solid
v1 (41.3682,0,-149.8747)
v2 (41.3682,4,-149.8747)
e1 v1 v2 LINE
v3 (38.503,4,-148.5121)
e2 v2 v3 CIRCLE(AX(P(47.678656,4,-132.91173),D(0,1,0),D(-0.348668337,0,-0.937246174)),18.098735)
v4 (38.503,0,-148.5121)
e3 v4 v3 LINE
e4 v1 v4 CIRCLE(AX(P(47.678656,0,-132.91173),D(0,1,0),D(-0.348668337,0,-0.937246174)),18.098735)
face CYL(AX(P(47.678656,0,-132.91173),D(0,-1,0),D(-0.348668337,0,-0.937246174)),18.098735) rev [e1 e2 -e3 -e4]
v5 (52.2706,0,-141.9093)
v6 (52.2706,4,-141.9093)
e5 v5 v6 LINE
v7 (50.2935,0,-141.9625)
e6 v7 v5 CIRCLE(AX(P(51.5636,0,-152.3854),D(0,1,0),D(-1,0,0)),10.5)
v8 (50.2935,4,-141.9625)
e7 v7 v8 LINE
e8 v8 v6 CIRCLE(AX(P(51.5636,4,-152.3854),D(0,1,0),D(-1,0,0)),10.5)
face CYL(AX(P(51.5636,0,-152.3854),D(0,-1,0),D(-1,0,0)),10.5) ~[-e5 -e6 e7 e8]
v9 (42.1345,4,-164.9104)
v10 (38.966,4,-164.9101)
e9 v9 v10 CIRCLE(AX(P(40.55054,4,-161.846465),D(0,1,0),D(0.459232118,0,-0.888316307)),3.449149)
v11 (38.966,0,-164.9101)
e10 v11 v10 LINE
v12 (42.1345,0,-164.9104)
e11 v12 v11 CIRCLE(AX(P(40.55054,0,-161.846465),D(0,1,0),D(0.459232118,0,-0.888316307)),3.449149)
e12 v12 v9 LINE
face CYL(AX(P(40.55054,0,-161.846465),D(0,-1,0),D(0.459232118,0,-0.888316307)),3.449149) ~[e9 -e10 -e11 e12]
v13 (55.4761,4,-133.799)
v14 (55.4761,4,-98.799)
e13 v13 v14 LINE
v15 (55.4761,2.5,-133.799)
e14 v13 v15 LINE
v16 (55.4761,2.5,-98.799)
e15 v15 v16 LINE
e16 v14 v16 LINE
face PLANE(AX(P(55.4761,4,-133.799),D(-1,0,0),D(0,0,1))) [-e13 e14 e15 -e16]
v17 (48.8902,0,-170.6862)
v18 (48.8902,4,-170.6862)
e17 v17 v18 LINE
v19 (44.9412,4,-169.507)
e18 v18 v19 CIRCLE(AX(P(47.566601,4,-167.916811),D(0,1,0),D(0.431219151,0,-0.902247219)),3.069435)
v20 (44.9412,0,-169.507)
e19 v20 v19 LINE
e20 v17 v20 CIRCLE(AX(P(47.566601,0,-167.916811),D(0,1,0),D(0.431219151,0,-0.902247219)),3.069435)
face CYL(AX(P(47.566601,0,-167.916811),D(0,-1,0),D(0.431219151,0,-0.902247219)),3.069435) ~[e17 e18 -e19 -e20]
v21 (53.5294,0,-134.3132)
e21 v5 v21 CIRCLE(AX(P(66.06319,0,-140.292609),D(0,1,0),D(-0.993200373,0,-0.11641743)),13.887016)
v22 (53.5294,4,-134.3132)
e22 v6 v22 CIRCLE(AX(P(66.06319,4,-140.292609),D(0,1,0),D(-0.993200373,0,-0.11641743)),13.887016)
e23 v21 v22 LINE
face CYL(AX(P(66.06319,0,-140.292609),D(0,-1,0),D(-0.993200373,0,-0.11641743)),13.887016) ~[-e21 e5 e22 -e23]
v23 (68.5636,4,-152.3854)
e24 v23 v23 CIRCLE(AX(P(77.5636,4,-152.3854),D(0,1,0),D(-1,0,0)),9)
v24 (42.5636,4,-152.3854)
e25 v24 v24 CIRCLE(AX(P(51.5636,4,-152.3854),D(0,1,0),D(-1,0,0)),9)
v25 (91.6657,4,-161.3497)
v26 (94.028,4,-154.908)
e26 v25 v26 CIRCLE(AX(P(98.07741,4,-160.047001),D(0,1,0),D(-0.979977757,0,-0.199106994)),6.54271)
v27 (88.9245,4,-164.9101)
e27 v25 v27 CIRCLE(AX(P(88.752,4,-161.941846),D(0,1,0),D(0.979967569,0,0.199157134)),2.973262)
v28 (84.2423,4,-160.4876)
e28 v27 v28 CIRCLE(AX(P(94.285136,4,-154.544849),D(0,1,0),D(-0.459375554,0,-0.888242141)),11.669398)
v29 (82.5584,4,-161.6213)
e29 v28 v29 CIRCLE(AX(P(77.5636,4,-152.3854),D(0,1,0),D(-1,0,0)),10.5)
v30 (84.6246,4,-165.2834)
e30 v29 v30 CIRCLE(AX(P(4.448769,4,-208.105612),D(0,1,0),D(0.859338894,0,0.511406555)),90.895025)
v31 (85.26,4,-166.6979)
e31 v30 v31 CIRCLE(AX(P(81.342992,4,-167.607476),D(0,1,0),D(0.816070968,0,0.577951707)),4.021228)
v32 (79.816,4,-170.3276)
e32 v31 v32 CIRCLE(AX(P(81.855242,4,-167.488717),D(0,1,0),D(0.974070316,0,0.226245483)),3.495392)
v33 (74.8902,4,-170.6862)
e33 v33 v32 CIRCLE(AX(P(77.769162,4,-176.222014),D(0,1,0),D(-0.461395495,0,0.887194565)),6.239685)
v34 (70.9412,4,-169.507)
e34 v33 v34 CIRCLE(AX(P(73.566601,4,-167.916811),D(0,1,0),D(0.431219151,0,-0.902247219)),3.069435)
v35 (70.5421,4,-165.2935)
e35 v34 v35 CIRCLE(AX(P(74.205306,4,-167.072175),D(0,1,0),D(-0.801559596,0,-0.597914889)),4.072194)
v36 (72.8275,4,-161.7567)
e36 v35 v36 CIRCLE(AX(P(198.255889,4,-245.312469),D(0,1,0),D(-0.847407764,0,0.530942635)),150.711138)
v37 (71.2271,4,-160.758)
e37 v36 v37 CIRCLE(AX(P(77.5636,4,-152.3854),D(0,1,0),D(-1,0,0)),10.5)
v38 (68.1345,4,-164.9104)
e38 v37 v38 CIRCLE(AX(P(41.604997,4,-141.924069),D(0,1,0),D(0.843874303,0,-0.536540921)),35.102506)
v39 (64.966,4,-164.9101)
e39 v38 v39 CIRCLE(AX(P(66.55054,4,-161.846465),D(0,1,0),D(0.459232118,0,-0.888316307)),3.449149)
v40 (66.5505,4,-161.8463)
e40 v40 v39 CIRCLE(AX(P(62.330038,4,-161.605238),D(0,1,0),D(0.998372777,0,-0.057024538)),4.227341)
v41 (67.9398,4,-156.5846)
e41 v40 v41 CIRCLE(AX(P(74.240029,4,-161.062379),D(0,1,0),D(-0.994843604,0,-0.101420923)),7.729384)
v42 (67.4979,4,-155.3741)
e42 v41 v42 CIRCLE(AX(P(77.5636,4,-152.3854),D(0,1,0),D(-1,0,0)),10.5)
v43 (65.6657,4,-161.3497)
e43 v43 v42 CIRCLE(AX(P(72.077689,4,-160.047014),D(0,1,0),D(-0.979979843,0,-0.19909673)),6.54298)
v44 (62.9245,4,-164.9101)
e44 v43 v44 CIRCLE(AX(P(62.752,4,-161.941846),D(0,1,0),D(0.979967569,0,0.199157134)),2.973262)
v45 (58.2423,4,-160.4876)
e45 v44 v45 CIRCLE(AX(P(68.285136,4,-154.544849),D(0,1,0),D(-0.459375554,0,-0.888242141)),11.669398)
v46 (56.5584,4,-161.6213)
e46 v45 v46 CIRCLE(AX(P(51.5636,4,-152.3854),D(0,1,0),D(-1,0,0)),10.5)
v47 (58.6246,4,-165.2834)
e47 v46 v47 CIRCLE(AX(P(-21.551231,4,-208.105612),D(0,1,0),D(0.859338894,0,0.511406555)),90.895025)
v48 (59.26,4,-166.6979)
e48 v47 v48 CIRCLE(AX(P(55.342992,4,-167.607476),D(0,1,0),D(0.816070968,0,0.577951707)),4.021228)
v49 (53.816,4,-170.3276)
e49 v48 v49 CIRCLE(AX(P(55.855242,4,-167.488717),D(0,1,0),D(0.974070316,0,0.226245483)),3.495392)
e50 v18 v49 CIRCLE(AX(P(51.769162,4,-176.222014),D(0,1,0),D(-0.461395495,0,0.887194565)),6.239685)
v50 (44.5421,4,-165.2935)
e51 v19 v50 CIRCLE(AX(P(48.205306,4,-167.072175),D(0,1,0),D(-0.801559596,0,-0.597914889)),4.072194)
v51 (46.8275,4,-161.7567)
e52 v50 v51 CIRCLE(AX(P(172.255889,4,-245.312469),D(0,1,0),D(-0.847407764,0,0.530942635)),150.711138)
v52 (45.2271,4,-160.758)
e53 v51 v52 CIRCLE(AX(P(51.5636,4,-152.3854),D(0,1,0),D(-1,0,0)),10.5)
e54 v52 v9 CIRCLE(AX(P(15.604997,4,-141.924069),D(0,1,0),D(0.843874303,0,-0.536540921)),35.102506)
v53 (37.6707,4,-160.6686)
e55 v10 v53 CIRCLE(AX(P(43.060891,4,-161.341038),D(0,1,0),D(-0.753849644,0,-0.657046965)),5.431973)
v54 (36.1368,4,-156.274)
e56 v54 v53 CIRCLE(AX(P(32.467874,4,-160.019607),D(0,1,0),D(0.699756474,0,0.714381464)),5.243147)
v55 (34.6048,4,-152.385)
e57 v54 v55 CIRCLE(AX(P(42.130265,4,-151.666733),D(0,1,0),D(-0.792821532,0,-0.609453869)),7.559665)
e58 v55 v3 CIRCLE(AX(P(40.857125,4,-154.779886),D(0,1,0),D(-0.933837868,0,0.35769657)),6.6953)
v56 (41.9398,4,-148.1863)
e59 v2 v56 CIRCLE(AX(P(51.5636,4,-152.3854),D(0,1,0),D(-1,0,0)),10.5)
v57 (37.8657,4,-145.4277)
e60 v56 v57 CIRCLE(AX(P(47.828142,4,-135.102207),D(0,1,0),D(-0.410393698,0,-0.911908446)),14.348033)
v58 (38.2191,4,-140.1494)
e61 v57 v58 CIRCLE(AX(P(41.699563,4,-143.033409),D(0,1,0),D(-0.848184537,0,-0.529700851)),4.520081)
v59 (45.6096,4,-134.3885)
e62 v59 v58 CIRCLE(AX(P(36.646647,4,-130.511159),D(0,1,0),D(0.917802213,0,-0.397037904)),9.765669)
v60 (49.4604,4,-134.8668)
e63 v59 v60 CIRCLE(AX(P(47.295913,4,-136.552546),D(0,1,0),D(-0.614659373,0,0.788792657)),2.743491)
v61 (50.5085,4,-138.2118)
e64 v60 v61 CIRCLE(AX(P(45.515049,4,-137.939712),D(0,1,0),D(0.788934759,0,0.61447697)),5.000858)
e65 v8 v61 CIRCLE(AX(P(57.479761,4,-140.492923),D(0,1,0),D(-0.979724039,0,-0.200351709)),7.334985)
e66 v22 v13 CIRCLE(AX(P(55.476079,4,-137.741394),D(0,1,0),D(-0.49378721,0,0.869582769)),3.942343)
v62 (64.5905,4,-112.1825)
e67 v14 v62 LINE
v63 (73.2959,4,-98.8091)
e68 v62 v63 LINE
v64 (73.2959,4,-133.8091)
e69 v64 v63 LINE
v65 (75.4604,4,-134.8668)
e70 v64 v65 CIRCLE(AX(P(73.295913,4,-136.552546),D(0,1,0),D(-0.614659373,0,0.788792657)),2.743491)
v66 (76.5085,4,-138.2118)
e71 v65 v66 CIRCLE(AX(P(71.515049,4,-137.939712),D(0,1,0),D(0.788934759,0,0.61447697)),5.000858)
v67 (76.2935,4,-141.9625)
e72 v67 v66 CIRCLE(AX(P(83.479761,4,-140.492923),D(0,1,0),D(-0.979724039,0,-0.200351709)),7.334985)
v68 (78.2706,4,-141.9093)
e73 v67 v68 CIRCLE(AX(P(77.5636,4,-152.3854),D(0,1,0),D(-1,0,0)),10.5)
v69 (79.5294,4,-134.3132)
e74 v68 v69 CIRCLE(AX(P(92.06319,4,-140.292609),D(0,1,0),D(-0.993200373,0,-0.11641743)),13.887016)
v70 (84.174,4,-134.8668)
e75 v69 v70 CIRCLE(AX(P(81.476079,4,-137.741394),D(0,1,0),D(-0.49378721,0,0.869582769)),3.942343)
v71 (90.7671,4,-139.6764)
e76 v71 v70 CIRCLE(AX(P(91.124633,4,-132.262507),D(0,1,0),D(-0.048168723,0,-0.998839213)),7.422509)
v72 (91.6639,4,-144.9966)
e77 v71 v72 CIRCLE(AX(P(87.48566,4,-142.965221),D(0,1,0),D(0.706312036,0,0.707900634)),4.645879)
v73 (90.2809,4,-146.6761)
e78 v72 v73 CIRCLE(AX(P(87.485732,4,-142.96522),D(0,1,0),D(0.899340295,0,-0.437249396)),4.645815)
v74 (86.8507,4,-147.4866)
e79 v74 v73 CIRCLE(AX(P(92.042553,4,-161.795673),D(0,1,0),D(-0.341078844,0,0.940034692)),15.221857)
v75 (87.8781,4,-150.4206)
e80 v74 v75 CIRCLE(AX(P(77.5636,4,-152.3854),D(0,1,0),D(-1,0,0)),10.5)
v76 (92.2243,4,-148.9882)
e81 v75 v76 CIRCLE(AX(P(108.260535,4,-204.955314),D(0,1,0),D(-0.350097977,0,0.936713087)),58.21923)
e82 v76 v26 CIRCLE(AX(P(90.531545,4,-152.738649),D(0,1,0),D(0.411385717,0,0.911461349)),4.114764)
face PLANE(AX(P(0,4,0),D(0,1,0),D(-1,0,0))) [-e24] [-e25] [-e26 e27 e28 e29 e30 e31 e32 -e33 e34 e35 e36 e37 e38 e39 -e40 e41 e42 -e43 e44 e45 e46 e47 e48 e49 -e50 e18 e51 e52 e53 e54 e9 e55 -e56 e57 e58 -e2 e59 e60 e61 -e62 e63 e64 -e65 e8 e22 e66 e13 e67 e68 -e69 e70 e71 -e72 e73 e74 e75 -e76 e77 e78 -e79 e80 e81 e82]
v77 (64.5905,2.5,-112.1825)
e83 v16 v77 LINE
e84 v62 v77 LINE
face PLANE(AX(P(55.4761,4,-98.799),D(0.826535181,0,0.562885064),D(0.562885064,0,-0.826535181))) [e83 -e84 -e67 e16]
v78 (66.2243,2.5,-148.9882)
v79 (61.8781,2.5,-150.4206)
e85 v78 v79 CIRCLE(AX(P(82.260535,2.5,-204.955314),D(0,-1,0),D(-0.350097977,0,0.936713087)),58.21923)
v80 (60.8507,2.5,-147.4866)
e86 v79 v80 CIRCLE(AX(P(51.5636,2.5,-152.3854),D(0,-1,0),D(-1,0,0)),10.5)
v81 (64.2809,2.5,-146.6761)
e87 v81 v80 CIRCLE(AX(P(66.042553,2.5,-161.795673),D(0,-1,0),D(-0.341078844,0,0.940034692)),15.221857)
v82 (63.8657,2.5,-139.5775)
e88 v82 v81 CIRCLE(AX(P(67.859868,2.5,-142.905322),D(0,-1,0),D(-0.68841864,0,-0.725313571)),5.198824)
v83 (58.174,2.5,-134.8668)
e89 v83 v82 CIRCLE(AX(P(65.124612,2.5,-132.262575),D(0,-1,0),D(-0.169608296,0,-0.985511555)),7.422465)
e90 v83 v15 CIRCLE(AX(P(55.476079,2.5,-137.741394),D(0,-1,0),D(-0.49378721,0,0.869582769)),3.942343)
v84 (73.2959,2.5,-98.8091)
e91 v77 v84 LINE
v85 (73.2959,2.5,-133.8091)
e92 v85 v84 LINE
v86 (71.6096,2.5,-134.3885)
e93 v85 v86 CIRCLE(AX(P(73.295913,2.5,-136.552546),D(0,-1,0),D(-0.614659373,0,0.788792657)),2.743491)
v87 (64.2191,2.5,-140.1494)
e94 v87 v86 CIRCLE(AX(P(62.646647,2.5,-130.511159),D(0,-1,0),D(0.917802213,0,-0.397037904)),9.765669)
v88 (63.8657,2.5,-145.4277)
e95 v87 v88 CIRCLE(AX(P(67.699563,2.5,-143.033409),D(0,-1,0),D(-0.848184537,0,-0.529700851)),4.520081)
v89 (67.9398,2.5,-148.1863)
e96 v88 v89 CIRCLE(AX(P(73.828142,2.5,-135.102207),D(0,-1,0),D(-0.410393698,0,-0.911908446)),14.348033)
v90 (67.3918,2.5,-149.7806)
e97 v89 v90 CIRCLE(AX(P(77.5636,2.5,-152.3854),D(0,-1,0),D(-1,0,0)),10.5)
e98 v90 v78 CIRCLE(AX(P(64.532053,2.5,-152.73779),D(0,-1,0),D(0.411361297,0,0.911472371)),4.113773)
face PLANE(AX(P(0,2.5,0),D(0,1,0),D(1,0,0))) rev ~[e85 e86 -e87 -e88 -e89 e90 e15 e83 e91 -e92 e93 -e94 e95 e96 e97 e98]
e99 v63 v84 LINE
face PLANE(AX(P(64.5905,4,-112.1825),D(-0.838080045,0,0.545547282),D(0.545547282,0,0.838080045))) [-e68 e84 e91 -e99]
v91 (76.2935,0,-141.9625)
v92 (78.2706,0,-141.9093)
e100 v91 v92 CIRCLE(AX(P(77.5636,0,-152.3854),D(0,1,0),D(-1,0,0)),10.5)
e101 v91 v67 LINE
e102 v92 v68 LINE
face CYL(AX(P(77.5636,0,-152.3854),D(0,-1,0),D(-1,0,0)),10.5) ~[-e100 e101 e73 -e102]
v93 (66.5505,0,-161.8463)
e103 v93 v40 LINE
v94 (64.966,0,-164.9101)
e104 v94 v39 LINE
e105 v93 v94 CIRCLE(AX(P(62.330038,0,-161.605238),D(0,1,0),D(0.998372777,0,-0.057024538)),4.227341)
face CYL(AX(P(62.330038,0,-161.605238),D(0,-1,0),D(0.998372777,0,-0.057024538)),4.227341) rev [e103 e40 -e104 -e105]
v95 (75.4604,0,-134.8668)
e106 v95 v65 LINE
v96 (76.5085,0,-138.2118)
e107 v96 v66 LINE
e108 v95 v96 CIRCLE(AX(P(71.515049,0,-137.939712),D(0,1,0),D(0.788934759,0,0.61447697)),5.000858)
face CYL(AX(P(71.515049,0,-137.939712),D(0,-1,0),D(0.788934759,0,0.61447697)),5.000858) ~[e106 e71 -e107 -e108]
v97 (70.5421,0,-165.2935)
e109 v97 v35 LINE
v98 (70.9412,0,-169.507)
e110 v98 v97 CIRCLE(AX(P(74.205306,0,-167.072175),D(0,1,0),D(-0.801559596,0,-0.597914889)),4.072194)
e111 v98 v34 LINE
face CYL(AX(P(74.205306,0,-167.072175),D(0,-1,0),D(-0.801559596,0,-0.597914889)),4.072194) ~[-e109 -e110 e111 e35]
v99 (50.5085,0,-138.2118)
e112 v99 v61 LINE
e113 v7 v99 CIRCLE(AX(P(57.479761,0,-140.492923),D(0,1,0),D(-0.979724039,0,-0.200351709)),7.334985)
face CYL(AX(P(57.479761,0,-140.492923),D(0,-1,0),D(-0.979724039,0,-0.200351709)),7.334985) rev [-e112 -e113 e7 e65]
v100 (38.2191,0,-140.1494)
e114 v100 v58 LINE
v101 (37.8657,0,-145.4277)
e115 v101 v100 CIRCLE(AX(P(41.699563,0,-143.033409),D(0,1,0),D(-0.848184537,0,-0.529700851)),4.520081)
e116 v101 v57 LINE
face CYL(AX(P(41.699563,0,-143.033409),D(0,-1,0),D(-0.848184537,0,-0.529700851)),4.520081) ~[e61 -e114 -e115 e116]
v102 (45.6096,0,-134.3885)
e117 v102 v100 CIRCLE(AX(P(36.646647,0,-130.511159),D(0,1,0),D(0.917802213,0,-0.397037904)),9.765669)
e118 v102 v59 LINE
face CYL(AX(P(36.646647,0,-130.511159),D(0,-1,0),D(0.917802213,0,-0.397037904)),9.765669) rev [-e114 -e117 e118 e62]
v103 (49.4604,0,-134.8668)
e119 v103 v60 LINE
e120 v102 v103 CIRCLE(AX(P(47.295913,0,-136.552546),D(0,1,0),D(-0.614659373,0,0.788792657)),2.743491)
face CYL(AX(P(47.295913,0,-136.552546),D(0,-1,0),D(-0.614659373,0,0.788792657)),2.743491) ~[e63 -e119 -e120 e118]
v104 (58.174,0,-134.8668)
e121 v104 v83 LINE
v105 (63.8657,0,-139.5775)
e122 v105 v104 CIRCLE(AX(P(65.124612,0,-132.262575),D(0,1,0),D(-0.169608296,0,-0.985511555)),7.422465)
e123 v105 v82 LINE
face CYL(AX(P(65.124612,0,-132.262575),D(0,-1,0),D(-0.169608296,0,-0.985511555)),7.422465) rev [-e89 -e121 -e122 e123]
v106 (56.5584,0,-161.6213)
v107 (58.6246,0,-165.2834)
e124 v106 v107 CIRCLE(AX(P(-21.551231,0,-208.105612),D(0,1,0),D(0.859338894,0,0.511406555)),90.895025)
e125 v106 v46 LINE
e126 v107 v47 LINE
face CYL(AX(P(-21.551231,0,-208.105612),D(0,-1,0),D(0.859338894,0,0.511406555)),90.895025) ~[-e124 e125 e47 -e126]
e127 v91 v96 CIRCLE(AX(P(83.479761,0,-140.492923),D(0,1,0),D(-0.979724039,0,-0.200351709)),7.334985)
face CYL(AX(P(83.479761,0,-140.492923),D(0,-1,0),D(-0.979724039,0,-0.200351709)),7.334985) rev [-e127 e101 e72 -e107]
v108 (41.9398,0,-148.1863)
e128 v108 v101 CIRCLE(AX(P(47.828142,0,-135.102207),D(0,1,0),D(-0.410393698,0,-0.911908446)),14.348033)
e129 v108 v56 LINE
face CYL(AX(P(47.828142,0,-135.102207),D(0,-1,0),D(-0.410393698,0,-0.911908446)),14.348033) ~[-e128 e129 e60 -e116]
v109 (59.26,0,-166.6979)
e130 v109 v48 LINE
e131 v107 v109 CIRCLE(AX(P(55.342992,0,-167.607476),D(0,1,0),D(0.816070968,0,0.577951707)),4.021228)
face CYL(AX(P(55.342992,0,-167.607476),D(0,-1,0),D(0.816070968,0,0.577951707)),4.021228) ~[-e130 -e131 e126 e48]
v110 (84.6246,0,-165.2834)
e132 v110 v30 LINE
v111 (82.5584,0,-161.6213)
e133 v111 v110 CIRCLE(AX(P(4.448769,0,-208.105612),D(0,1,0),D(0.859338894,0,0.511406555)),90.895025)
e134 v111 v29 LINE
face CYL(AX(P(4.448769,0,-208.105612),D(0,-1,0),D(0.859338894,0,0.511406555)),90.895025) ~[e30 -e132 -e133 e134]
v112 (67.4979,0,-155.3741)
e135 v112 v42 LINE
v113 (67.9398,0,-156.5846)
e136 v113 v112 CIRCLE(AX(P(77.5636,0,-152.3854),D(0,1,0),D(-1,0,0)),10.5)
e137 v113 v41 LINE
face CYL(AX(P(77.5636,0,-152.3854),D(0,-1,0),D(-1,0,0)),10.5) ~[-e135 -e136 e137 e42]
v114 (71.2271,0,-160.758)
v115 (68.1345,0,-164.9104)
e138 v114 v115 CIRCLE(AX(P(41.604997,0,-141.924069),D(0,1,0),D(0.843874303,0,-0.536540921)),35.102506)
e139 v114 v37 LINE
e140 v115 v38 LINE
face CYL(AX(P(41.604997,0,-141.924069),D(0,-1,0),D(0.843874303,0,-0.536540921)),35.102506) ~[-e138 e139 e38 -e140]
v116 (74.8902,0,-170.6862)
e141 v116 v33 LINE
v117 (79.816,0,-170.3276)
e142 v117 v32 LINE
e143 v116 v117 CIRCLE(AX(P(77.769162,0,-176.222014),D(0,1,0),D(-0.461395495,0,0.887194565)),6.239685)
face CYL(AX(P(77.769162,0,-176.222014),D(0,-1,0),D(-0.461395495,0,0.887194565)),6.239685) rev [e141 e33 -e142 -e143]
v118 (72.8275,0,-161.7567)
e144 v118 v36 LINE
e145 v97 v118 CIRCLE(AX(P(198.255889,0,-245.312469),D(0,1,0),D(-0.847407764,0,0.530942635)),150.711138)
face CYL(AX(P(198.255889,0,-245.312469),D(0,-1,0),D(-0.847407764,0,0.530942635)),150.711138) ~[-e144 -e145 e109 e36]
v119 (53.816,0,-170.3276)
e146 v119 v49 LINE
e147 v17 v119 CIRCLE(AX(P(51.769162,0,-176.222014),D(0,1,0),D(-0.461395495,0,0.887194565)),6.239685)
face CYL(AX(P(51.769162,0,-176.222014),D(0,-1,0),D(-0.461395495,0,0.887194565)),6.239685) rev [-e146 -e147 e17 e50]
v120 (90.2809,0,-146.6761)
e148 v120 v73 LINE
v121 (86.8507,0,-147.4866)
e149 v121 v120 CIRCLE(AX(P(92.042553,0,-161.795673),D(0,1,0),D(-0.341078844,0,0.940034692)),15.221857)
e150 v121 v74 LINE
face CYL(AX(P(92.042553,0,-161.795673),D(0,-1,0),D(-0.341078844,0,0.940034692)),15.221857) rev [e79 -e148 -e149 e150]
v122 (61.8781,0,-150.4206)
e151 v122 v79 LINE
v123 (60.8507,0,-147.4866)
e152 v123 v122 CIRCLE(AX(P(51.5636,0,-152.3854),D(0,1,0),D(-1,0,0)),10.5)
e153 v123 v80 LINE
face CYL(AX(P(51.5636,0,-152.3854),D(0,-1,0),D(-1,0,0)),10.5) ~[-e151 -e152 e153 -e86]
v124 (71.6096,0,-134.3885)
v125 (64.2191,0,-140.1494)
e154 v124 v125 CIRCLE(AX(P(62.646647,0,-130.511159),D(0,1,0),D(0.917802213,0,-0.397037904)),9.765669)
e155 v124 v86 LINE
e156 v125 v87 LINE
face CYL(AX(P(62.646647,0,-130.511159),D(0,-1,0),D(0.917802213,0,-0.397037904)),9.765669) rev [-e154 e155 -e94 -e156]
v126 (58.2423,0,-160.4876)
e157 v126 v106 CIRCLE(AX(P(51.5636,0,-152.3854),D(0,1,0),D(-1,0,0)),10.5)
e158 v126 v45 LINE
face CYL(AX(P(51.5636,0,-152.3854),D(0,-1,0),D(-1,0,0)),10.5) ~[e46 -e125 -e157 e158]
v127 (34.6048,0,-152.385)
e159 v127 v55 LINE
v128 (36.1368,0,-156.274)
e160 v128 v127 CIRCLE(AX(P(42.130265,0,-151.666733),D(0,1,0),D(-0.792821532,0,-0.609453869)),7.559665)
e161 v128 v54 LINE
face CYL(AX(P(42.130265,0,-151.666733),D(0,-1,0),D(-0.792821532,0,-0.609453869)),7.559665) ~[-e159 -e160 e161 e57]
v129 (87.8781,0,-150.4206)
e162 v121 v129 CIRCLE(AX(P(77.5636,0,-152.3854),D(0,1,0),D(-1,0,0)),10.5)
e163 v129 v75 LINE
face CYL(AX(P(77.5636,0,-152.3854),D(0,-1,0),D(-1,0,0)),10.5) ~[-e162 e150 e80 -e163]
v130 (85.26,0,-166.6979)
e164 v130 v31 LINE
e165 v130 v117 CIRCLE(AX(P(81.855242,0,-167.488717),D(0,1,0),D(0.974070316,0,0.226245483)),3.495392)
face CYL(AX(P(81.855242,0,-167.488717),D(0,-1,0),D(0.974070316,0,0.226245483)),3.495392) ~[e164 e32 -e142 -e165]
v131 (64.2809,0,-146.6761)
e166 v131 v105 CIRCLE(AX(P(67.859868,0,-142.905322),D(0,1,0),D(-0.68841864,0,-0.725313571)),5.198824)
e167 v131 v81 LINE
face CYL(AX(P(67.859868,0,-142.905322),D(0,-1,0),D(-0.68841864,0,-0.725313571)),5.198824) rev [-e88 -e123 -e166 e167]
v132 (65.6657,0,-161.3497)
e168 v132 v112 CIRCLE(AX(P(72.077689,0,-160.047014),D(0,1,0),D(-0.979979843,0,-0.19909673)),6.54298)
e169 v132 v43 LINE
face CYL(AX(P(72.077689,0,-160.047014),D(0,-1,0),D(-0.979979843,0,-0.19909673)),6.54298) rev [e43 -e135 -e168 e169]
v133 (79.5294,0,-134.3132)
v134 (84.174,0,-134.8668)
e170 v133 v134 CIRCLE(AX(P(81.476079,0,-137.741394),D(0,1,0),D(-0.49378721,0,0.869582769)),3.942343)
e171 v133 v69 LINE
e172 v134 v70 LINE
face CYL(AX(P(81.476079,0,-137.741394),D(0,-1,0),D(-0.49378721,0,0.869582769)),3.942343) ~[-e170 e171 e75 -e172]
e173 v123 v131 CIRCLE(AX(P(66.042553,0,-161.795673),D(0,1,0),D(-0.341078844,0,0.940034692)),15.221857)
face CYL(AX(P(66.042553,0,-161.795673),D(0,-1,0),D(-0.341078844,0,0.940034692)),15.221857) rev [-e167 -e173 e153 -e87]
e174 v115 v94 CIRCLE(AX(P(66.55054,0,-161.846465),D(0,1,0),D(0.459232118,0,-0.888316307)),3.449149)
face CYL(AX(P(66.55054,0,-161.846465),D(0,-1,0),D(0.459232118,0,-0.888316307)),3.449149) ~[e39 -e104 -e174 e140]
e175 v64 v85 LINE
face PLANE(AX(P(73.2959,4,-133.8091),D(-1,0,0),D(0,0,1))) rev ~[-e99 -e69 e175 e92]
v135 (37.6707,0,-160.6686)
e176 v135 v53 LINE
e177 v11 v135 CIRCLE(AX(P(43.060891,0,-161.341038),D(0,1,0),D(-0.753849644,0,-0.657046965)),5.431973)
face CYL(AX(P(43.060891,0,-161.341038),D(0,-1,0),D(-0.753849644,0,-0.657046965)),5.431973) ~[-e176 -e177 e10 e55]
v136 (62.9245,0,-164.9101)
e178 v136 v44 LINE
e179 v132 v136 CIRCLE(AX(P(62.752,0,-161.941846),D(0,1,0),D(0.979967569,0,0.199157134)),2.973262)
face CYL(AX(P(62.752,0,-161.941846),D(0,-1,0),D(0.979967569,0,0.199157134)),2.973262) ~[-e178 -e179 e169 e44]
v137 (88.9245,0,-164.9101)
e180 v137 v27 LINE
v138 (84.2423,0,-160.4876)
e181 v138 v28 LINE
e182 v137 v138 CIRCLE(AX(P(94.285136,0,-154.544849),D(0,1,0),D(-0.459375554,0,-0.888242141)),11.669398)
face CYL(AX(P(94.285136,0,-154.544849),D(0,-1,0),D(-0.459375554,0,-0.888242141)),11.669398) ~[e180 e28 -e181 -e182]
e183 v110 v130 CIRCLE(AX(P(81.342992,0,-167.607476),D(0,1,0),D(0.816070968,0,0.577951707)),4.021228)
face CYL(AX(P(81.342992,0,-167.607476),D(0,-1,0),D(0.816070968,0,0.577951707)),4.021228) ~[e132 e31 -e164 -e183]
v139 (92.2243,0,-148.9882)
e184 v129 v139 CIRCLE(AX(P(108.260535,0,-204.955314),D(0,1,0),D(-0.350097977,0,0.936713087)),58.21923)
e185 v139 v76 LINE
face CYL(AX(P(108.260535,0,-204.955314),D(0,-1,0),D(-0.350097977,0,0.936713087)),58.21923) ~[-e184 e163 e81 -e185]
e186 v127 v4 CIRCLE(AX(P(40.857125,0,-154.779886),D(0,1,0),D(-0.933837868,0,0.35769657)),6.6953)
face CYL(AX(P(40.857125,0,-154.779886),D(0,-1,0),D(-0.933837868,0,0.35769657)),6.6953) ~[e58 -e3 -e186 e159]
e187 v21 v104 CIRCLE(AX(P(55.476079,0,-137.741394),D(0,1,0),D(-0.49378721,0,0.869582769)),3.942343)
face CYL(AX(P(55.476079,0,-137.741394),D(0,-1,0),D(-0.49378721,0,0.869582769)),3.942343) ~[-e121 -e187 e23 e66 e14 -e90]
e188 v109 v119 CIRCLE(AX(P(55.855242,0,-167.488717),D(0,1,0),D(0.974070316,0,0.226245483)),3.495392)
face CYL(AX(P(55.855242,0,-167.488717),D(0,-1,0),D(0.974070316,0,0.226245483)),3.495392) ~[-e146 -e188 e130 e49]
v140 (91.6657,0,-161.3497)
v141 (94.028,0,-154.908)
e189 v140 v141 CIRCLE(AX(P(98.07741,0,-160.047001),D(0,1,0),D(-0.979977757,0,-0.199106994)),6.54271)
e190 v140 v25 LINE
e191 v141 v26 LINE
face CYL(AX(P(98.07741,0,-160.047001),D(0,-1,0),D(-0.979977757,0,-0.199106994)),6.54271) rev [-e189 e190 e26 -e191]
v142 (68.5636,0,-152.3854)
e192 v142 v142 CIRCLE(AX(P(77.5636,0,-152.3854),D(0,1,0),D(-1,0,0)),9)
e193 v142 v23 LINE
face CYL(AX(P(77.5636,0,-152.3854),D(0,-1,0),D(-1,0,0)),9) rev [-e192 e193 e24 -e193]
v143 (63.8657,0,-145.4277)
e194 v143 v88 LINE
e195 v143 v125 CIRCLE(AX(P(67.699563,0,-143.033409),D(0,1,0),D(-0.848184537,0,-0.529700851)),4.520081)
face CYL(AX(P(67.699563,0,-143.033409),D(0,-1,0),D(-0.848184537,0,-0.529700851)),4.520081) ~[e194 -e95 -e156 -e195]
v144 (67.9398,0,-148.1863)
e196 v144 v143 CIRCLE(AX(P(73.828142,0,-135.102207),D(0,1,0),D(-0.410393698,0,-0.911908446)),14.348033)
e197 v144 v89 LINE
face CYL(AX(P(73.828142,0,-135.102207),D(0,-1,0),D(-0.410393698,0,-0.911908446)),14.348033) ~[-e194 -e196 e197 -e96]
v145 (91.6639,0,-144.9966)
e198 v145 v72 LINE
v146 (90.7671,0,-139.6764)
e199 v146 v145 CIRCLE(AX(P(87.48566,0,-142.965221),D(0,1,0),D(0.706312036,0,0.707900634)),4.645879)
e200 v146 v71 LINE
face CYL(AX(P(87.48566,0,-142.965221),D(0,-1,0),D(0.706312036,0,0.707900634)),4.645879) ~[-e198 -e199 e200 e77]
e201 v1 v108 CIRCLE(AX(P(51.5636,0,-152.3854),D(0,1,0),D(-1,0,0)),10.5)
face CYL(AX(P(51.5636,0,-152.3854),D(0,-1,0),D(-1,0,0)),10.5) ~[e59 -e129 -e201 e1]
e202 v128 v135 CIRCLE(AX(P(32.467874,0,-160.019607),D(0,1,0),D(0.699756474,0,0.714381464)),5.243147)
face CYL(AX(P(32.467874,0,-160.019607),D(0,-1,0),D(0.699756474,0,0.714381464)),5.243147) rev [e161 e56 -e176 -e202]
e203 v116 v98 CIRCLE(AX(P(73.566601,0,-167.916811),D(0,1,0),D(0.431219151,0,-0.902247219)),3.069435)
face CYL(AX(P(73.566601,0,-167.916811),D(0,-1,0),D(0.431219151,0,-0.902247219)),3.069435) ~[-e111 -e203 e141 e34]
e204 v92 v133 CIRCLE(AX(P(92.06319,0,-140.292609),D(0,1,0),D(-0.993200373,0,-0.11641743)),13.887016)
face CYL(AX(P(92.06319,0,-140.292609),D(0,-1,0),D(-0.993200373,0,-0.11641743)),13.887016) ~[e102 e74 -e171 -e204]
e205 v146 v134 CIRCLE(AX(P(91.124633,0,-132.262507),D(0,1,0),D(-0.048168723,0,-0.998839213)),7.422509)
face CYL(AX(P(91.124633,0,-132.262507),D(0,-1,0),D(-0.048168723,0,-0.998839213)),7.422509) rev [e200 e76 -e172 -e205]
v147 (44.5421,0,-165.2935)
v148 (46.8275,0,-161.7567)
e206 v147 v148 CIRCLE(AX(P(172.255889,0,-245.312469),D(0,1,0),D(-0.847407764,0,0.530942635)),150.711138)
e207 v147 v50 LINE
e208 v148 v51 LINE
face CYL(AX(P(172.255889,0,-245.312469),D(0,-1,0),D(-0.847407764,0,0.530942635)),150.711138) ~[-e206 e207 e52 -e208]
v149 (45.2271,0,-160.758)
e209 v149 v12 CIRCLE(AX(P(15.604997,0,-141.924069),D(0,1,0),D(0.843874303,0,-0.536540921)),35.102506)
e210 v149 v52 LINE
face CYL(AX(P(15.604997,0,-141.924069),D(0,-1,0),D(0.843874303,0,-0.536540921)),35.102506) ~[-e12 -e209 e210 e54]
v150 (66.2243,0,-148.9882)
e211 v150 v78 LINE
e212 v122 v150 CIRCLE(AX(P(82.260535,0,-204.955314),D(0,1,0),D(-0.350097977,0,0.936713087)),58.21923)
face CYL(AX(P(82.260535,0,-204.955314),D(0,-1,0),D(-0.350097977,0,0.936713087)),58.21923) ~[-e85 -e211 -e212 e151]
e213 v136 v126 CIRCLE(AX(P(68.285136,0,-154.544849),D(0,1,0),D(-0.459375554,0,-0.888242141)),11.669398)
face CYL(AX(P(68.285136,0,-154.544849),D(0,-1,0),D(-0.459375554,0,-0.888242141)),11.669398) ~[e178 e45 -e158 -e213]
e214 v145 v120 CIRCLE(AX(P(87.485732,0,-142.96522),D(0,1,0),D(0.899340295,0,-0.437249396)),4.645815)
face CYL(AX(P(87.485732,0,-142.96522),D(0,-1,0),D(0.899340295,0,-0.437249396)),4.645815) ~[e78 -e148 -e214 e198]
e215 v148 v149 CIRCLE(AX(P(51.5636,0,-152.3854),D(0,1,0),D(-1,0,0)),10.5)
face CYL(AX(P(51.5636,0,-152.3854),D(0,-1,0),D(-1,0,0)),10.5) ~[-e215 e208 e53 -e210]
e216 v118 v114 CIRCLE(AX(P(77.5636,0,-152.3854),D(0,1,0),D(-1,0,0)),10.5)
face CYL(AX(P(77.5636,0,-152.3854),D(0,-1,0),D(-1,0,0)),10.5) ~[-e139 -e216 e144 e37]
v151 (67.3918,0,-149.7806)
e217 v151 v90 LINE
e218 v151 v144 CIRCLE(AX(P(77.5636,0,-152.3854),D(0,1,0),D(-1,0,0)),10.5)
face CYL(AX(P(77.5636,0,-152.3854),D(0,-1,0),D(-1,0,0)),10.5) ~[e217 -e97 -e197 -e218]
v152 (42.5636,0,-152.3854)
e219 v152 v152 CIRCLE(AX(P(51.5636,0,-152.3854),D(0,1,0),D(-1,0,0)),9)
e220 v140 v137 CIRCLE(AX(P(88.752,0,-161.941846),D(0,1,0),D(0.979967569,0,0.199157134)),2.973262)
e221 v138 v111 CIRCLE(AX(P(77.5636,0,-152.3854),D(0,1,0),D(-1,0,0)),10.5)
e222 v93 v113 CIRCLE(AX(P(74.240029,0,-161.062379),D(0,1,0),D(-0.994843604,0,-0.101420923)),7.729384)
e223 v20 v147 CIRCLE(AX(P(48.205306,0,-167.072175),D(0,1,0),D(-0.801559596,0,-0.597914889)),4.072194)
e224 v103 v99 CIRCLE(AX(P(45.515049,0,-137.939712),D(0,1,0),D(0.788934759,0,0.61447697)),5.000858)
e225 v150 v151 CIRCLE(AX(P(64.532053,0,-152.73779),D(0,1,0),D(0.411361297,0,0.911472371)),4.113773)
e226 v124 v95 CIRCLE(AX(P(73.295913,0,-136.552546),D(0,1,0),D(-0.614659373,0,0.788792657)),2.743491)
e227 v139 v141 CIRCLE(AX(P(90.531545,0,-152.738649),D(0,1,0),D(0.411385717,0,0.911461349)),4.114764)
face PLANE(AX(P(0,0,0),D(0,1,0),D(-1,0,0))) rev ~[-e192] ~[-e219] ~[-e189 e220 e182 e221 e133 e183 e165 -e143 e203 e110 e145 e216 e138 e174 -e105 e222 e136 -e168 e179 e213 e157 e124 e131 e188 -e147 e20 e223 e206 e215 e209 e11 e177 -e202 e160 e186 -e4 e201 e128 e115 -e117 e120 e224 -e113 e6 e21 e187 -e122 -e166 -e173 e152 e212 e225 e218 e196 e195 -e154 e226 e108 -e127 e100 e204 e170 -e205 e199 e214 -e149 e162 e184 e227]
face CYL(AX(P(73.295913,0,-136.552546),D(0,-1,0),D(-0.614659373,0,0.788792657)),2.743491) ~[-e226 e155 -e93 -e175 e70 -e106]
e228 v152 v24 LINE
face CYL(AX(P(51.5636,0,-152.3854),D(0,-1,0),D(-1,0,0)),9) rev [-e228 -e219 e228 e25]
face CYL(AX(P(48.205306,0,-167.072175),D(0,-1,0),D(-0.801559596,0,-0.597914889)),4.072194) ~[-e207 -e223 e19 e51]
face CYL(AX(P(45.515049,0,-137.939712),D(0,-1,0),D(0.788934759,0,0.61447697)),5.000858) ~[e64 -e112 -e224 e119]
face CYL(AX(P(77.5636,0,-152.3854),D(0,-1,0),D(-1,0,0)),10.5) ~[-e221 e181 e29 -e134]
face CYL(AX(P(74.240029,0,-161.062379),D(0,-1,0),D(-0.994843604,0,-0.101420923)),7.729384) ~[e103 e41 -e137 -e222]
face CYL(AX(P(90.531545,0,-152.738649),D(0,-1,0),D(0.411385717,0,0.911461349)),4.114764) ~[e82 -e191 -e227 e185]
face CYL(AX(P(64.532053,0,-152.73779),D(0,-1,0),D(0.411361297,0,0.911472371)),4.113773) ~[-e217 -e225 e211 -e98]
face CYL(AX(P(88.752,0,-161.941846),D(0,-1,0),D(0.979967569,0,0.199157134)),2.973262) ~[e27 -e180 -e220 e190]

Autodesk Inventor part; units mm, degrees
ref_plane "YZ Plane" through (0, 0, 0) normal (1, 0, 0) x (0, 1, 0)
ref_plane "XZ Plane" through (0, 0, 0) normal (0, 1, 0) x (-1, 0, 0)
ref_plane "XY Plane" through (0, 0, 0) normal (0, 0, 1) x (1, 0, 0)
sketch "Sketch1" plane through (0, 0, 0) normal (0, 1, 0) x (-1, 0, 0)
  arc A0 (-50.2935, -141.9625) -> (-50.5085, -138.2118) centre (-57.4787, -140.493) ccw
  arc A1 (-49.4604, -134.8668) -> (-50.5085, -138.2118) centre (-45.5145, -137.94) ccw
  arc A2 (-52.2706, -141.9093) -> (-53.5294, -134.3132) centre (-66.0628, -140.2926) ccw
  arc A3 (-60.8507, -147.4866) -> (-64.2809, -146.6761) centre (-66.0428, -161.7965) ccw
  circle A4 centre (-51.5636, -152.3854) radius 9
  arc A5 (-45.2271, -160.758) -> (-42.1345, -164.9104) centre (-15.6123, -141.9291) ccw
  arc A6 (-38.966, -164.9101) -> (-37.6707, -160.6686) centre (-43.0606, -161.3412) ccw
  arc A7 (-44.5421, -165.2935) -> (-46.8275, -161.7567) centre (-172.1244, -245.2288) ccw
  arc A8 (-37.8657, -145.4277) -> (-38.2191, -140.1494) centre (-41.6996, -143.0334) ccw
  arc A9 (-45.6096, -134.3885) -> (-38.2191, -140.1494) centre (-36.6467, -130.5112) ccw
  arc A10 (-36.1368, -156.274) -> (-37.6707, -160.6686) centre (-32.4682, -160.0194) ccw
  arc A11 (-36.1368, -156.274) -> (-34.6048, -152.385) centre (-42.1305, -151.6666) ccw
  arc A12 (-41.3682, -149.8747) -> (-38.503, -148.5121) centre (-47.6774, -132.9147) ccw
  arc A13 (-41.9398, -148.1863) -> (-37.8657, -145.4277) centre (-47.8277, -135.103) ccw
  arc A14 (-34.6048, -152.385) -> (-38.503, -148.5121) centre (-40.8573, -154.78) ccw
  arc A15 (-63.8657, -139.5775) -> (-58.174, -134.8668) centre (-65.1246, -132.2626) ccw
  arc A16 (-53.5294, -134.3132) -> (-58.174, -134.8668) centre (-55.4761, -137.7415) ccw
  arc A17 (-45.6096, -134.3885) -> (-49.4604, -134.8668) centre (-47.2959, -136.5525) ccw
  line L0 (-46.3394, -171.0352) -> (-46.3407, -171.0345)
  arc A18 (-48.8902, -170.6862) -> (-44.9412, -169.507) centre (-47.5666, -167.9168) ccw
  arc A19 (-65.6657, -161.3497) -> (-62.9245, -164.9101) centre (-62.7518, -161.9418) ccw
  arc A20 (-62.9245, -164.9101) -> (-58.2423, -160.4876) centre (-68.2851, -154.5449) ccw
  arc A21 (-56.5584, -161.6213) -> (-58.6246, -165.2834) centre (21.5695, -208.1162) ccw
  arc A22 (-58.6246, -165.2834) -> (-59.26, -166.6979) centre (-55.3426, -167.6077) ccw
  arc A23 (-59.26, -166.6979) -> (-53.816, -170.3276) centre (-55.8552, -167.4887) ccw
  arc A24 (-48.8902, -170.6862) -> (-53.816, -170.3276) centre (-51.7693, -176.2225) ccw
  arc A25 (-65.6657, -161.3497) -> (-67.4979, -155.3741) centre (-72.0774, -160.047) ccw
  arc A26 (-61.8781, -150.4206) -> (-66.2243, -148.9882) centre (-82.2432, -204.906) ccw
  arc A27 (-42.1345, -164.9104) -> (-38.966, -164.9101) centre (-40.5505, -161.8463) ccw
  arc A28 (-44.9412, -169.507) -> (-44.5421, -165.2935) centre (-48.2055, -167.0721) ccw
  arc A29 (-76.2935, -141.9625) -> (-76.5085, -138.2118) centre (-83.4787, -140.493) ccw
  arc A30 (-75.4604, -134.8668) -> (-76.5085, -138.2118) centre (-71.5145, -137.94) ccw
  arc A31 (-78.2706, -141.9093) -> (-79.5294, -134.3132) centre (-92.0628, -140.2926) ccw
  arc A32 (-86.8507, -147.4866) -> (-90.2809, -146.6761) centre (-92.0428, -161.7965) ccw
  circle A33 centre (-77.5636, -152.3854) radius 9
  arc A34 (-71.2271, -160.758) -> (-68.1345, -164.9104) centre (-41.6123, -141.9291) ccw
  arc A35 (-70.5421, -165.2935) -> (-72.8275, -161.7567) centre (-198.1244, -245.2288) ccw
  arc A36 (-63.8657, -145.4277) -> (-64.2191, -140.1494) centre (-67.6996, -143.0334) ccw
  arc A37 (-71.6096, -134.3885) -> (-64.2191, -140.1494) centre (-62.6467, -130.5112) ccw
  arc A38 (-67.9398, -148.1863) -> (-63.8657, -145.4277) centre (-73.8277, -135.103) ccw
  arc A39 (-90.7671, -139.6764) -> (-84.174, -134.8668) centre (-91.1246, -132.2626) ccw
  arc A40 (-79.5294, -134.3132) -> (-84.174, -134.8668) centre (-81.4761, -137.7415) ccw
  arc A41 (-71.6096, -134.3885) -> (-75.4604, -134.8668) centre (-73.2959, -136.5525) ccw
  line L1 (-72.3394, -171.0352) -> (-72.3407, -171.0345)
  arc A42 (-74.8902, -170.6862) -> (-70.9412, -169.507) centre (-73.5666, -167.9168) ccw
  arc A43 (-91.6657, -161.3497) -> (-88.9245, -164.9101) centre (-88.7518, -161.9418) ccw
  arc A44 (-88.9245, -164.9101) -> (-84.2423, -160.4876) centre (-94.2851, -154.5449) ccw
  arc A45 (-82.5584, -161.6213) -> (-84.6246, -165.2834) centre (-4.4305, -208.1162) ccw
  arc A46 (-84.6246, -165.2834) -> (-85.26, -166.6979) centre (-81.3426, -167.6077) ccw
  arc A47 (-85.26, -166.6979) -> (-79.816, -170.3276) centre (-81.8552, -167.4887) ccw
  arc A48 (-74.8902, -170.6862) -> (-79.816, -170.3276) centre (-77.7693, -176.2225) ccw
  arc A49 (-91.6639, -144.9966) -> (-90.2809, -146.6761) centre (-87.4857, -142.9652) ccw
  arc A50 (-90.7671, -139.6764) -> (-91.6639, -144.9966) centre (-87.4857, -142.9652) ccw
  arc A51 (-91.6657, -161.3497) -> (-94.028, -154.908) centre (-98.0774, -160.047) ccw
  arc A52 (-92.2243, -148.9882) -> (-94.028, -154.908) centre (-90.5316, -152.7386) ccw
  arc A53 (-87.8781, -150.4206) -> (-92.2243, -148.9882) centre (-108.2432, -204.906) ccw
  arc A54 (-68.1345, -164.9104) -> (-64.966, -164.9101) centre (-66.5505, -161.8463) ccw
  arc A55 (-70.9412, -169.507) -> (-70.5421, -165.2935) centre (-74.2055, -167.0721) ccw
  arc A56 (-66.2243, -148.9882) -> (-67.3918, -149.7806) centre (-64.5316, -152.7386) ccw
  circle A57 centre (-51.5636, -152.3854) radius 10.5
  circle A58 centre (-77.5636, -152.3854) radius 10.5
  arc A59 (-66.5505, -161.8463) -> (-64.966, -164.9101) centre (-62.3299, -161.6052) ccw
  arc A60 (-66.5505, -161.8463) -> (-67.9398, -156.5846) centre (-74.2403, -161.0624) ccw
  arc A61 (-64.2809, -146.6761) -> (-63.8657, -139.5775) centre (-67.8597, -142.9054) ccw
  line L2 (-53.5294, -134.3132) -> (-53.5294, -99.3132)
  line L3 (-53.5294, -99.3132) -> (-75.4604, -134.8668)
  line L4 (-75.4604, -134.8668) -> (-75.4604, -99.3132)
  line L5 (-75.4604, -99.3132) -> (-53.5294, -134.3132)
  point P0 (0, 0)
  point P1 (-51.4803, -152.4063)
  point P2 (-45.3977, -162.821)
  point P3 (-45.3977, -141.9574)
  point P4 (-33.5868, -132.2626)
  point P5 (-34.505, -161.7965)
  point P6 (-36.7472, -154.5449)
  point P7 (-47.2742, -170.9723)
  point P8 (-57.8397, -162.8189)
  point P9 (-56.1478, -170.9718)
  point P10 (-71.3977, -162.821)
  point P11 (-71.3977, -141.9574)
  point P12 (-59.5868, -132.2626)
  point P13 (-60.505, -161.7965)
  point P14 (-62.7472, -154.5449)
  point P15 (-73.2742, -170.9723)
  point P16 (-83.8397, -162.8189)
  point P17 (-82.1478, -170.9718)
  dimension "d2" = 21
  dimension "d3" = 21
  dimension "d0" = 18
  dimension "d1" = 18
  dimension "d6" = 35
extrude "Extrusion1" add sketch "Sketch1" along normal blind 4 contours A0 A1 A17 A9 A8 A13 A57 | A57 | A57 A3 A61 A15 A16 A2 | A12 A14 A11 A10 A6 A27 A5 A57 | A57 A20 A19 A25 A58 A56 A26 | A41 A37 A36 A38 A58 A29 A30 | A7 A28 A18 A24 A23 A22 A21 A57 | A58 | A58 A32 A49 A50 A39 A40 A31 | A60 A59 A54 A34 A58 | A58 A44 A43 A51 A52 A53 | A35 A55 A42 A48 A47 A46 A45 A58
sketch "Sketch3" plane through (0, 4, 0) normal (0, 1, 0) x (1, 0, 0)
  arc A0 (53.5294, 134.3132) -> (58.174, 134.8668) centre (55.4761, 137.7415) ccw projected
  line L0 (55.4761, 133.799) -> (55.4761, 98.799)
  arc A1 (71.6096, 134.3885) -> (75.4604, 134.8668) centre (73.2959, 136.5525) ccw projected
  line L1 (73.2959, 133.8091) -> (73.2959, 98.8091)
  line L2 (55.4761, 133.799) -> (61.5958, 151.1662)
  line L3 (61.5958, 151.1662) -> (68.0809, 150.5767)
  line L4 (68.0809, 150.5767) -> (73.2959, 133.8091)
  line L5 (55.4761, 98.799) -> (64.5905, 112.1825)
  line L6 (64.5905, 112.1825) -> (73.2959, 98.8091)
  point P0 (0, 0)
  dimension "d7" = 35
  dimension "d8" = 35
extrude "Extrusion2" add sketch "Sketch3" against normal blind 1.5
properties part number "RosaV2"
